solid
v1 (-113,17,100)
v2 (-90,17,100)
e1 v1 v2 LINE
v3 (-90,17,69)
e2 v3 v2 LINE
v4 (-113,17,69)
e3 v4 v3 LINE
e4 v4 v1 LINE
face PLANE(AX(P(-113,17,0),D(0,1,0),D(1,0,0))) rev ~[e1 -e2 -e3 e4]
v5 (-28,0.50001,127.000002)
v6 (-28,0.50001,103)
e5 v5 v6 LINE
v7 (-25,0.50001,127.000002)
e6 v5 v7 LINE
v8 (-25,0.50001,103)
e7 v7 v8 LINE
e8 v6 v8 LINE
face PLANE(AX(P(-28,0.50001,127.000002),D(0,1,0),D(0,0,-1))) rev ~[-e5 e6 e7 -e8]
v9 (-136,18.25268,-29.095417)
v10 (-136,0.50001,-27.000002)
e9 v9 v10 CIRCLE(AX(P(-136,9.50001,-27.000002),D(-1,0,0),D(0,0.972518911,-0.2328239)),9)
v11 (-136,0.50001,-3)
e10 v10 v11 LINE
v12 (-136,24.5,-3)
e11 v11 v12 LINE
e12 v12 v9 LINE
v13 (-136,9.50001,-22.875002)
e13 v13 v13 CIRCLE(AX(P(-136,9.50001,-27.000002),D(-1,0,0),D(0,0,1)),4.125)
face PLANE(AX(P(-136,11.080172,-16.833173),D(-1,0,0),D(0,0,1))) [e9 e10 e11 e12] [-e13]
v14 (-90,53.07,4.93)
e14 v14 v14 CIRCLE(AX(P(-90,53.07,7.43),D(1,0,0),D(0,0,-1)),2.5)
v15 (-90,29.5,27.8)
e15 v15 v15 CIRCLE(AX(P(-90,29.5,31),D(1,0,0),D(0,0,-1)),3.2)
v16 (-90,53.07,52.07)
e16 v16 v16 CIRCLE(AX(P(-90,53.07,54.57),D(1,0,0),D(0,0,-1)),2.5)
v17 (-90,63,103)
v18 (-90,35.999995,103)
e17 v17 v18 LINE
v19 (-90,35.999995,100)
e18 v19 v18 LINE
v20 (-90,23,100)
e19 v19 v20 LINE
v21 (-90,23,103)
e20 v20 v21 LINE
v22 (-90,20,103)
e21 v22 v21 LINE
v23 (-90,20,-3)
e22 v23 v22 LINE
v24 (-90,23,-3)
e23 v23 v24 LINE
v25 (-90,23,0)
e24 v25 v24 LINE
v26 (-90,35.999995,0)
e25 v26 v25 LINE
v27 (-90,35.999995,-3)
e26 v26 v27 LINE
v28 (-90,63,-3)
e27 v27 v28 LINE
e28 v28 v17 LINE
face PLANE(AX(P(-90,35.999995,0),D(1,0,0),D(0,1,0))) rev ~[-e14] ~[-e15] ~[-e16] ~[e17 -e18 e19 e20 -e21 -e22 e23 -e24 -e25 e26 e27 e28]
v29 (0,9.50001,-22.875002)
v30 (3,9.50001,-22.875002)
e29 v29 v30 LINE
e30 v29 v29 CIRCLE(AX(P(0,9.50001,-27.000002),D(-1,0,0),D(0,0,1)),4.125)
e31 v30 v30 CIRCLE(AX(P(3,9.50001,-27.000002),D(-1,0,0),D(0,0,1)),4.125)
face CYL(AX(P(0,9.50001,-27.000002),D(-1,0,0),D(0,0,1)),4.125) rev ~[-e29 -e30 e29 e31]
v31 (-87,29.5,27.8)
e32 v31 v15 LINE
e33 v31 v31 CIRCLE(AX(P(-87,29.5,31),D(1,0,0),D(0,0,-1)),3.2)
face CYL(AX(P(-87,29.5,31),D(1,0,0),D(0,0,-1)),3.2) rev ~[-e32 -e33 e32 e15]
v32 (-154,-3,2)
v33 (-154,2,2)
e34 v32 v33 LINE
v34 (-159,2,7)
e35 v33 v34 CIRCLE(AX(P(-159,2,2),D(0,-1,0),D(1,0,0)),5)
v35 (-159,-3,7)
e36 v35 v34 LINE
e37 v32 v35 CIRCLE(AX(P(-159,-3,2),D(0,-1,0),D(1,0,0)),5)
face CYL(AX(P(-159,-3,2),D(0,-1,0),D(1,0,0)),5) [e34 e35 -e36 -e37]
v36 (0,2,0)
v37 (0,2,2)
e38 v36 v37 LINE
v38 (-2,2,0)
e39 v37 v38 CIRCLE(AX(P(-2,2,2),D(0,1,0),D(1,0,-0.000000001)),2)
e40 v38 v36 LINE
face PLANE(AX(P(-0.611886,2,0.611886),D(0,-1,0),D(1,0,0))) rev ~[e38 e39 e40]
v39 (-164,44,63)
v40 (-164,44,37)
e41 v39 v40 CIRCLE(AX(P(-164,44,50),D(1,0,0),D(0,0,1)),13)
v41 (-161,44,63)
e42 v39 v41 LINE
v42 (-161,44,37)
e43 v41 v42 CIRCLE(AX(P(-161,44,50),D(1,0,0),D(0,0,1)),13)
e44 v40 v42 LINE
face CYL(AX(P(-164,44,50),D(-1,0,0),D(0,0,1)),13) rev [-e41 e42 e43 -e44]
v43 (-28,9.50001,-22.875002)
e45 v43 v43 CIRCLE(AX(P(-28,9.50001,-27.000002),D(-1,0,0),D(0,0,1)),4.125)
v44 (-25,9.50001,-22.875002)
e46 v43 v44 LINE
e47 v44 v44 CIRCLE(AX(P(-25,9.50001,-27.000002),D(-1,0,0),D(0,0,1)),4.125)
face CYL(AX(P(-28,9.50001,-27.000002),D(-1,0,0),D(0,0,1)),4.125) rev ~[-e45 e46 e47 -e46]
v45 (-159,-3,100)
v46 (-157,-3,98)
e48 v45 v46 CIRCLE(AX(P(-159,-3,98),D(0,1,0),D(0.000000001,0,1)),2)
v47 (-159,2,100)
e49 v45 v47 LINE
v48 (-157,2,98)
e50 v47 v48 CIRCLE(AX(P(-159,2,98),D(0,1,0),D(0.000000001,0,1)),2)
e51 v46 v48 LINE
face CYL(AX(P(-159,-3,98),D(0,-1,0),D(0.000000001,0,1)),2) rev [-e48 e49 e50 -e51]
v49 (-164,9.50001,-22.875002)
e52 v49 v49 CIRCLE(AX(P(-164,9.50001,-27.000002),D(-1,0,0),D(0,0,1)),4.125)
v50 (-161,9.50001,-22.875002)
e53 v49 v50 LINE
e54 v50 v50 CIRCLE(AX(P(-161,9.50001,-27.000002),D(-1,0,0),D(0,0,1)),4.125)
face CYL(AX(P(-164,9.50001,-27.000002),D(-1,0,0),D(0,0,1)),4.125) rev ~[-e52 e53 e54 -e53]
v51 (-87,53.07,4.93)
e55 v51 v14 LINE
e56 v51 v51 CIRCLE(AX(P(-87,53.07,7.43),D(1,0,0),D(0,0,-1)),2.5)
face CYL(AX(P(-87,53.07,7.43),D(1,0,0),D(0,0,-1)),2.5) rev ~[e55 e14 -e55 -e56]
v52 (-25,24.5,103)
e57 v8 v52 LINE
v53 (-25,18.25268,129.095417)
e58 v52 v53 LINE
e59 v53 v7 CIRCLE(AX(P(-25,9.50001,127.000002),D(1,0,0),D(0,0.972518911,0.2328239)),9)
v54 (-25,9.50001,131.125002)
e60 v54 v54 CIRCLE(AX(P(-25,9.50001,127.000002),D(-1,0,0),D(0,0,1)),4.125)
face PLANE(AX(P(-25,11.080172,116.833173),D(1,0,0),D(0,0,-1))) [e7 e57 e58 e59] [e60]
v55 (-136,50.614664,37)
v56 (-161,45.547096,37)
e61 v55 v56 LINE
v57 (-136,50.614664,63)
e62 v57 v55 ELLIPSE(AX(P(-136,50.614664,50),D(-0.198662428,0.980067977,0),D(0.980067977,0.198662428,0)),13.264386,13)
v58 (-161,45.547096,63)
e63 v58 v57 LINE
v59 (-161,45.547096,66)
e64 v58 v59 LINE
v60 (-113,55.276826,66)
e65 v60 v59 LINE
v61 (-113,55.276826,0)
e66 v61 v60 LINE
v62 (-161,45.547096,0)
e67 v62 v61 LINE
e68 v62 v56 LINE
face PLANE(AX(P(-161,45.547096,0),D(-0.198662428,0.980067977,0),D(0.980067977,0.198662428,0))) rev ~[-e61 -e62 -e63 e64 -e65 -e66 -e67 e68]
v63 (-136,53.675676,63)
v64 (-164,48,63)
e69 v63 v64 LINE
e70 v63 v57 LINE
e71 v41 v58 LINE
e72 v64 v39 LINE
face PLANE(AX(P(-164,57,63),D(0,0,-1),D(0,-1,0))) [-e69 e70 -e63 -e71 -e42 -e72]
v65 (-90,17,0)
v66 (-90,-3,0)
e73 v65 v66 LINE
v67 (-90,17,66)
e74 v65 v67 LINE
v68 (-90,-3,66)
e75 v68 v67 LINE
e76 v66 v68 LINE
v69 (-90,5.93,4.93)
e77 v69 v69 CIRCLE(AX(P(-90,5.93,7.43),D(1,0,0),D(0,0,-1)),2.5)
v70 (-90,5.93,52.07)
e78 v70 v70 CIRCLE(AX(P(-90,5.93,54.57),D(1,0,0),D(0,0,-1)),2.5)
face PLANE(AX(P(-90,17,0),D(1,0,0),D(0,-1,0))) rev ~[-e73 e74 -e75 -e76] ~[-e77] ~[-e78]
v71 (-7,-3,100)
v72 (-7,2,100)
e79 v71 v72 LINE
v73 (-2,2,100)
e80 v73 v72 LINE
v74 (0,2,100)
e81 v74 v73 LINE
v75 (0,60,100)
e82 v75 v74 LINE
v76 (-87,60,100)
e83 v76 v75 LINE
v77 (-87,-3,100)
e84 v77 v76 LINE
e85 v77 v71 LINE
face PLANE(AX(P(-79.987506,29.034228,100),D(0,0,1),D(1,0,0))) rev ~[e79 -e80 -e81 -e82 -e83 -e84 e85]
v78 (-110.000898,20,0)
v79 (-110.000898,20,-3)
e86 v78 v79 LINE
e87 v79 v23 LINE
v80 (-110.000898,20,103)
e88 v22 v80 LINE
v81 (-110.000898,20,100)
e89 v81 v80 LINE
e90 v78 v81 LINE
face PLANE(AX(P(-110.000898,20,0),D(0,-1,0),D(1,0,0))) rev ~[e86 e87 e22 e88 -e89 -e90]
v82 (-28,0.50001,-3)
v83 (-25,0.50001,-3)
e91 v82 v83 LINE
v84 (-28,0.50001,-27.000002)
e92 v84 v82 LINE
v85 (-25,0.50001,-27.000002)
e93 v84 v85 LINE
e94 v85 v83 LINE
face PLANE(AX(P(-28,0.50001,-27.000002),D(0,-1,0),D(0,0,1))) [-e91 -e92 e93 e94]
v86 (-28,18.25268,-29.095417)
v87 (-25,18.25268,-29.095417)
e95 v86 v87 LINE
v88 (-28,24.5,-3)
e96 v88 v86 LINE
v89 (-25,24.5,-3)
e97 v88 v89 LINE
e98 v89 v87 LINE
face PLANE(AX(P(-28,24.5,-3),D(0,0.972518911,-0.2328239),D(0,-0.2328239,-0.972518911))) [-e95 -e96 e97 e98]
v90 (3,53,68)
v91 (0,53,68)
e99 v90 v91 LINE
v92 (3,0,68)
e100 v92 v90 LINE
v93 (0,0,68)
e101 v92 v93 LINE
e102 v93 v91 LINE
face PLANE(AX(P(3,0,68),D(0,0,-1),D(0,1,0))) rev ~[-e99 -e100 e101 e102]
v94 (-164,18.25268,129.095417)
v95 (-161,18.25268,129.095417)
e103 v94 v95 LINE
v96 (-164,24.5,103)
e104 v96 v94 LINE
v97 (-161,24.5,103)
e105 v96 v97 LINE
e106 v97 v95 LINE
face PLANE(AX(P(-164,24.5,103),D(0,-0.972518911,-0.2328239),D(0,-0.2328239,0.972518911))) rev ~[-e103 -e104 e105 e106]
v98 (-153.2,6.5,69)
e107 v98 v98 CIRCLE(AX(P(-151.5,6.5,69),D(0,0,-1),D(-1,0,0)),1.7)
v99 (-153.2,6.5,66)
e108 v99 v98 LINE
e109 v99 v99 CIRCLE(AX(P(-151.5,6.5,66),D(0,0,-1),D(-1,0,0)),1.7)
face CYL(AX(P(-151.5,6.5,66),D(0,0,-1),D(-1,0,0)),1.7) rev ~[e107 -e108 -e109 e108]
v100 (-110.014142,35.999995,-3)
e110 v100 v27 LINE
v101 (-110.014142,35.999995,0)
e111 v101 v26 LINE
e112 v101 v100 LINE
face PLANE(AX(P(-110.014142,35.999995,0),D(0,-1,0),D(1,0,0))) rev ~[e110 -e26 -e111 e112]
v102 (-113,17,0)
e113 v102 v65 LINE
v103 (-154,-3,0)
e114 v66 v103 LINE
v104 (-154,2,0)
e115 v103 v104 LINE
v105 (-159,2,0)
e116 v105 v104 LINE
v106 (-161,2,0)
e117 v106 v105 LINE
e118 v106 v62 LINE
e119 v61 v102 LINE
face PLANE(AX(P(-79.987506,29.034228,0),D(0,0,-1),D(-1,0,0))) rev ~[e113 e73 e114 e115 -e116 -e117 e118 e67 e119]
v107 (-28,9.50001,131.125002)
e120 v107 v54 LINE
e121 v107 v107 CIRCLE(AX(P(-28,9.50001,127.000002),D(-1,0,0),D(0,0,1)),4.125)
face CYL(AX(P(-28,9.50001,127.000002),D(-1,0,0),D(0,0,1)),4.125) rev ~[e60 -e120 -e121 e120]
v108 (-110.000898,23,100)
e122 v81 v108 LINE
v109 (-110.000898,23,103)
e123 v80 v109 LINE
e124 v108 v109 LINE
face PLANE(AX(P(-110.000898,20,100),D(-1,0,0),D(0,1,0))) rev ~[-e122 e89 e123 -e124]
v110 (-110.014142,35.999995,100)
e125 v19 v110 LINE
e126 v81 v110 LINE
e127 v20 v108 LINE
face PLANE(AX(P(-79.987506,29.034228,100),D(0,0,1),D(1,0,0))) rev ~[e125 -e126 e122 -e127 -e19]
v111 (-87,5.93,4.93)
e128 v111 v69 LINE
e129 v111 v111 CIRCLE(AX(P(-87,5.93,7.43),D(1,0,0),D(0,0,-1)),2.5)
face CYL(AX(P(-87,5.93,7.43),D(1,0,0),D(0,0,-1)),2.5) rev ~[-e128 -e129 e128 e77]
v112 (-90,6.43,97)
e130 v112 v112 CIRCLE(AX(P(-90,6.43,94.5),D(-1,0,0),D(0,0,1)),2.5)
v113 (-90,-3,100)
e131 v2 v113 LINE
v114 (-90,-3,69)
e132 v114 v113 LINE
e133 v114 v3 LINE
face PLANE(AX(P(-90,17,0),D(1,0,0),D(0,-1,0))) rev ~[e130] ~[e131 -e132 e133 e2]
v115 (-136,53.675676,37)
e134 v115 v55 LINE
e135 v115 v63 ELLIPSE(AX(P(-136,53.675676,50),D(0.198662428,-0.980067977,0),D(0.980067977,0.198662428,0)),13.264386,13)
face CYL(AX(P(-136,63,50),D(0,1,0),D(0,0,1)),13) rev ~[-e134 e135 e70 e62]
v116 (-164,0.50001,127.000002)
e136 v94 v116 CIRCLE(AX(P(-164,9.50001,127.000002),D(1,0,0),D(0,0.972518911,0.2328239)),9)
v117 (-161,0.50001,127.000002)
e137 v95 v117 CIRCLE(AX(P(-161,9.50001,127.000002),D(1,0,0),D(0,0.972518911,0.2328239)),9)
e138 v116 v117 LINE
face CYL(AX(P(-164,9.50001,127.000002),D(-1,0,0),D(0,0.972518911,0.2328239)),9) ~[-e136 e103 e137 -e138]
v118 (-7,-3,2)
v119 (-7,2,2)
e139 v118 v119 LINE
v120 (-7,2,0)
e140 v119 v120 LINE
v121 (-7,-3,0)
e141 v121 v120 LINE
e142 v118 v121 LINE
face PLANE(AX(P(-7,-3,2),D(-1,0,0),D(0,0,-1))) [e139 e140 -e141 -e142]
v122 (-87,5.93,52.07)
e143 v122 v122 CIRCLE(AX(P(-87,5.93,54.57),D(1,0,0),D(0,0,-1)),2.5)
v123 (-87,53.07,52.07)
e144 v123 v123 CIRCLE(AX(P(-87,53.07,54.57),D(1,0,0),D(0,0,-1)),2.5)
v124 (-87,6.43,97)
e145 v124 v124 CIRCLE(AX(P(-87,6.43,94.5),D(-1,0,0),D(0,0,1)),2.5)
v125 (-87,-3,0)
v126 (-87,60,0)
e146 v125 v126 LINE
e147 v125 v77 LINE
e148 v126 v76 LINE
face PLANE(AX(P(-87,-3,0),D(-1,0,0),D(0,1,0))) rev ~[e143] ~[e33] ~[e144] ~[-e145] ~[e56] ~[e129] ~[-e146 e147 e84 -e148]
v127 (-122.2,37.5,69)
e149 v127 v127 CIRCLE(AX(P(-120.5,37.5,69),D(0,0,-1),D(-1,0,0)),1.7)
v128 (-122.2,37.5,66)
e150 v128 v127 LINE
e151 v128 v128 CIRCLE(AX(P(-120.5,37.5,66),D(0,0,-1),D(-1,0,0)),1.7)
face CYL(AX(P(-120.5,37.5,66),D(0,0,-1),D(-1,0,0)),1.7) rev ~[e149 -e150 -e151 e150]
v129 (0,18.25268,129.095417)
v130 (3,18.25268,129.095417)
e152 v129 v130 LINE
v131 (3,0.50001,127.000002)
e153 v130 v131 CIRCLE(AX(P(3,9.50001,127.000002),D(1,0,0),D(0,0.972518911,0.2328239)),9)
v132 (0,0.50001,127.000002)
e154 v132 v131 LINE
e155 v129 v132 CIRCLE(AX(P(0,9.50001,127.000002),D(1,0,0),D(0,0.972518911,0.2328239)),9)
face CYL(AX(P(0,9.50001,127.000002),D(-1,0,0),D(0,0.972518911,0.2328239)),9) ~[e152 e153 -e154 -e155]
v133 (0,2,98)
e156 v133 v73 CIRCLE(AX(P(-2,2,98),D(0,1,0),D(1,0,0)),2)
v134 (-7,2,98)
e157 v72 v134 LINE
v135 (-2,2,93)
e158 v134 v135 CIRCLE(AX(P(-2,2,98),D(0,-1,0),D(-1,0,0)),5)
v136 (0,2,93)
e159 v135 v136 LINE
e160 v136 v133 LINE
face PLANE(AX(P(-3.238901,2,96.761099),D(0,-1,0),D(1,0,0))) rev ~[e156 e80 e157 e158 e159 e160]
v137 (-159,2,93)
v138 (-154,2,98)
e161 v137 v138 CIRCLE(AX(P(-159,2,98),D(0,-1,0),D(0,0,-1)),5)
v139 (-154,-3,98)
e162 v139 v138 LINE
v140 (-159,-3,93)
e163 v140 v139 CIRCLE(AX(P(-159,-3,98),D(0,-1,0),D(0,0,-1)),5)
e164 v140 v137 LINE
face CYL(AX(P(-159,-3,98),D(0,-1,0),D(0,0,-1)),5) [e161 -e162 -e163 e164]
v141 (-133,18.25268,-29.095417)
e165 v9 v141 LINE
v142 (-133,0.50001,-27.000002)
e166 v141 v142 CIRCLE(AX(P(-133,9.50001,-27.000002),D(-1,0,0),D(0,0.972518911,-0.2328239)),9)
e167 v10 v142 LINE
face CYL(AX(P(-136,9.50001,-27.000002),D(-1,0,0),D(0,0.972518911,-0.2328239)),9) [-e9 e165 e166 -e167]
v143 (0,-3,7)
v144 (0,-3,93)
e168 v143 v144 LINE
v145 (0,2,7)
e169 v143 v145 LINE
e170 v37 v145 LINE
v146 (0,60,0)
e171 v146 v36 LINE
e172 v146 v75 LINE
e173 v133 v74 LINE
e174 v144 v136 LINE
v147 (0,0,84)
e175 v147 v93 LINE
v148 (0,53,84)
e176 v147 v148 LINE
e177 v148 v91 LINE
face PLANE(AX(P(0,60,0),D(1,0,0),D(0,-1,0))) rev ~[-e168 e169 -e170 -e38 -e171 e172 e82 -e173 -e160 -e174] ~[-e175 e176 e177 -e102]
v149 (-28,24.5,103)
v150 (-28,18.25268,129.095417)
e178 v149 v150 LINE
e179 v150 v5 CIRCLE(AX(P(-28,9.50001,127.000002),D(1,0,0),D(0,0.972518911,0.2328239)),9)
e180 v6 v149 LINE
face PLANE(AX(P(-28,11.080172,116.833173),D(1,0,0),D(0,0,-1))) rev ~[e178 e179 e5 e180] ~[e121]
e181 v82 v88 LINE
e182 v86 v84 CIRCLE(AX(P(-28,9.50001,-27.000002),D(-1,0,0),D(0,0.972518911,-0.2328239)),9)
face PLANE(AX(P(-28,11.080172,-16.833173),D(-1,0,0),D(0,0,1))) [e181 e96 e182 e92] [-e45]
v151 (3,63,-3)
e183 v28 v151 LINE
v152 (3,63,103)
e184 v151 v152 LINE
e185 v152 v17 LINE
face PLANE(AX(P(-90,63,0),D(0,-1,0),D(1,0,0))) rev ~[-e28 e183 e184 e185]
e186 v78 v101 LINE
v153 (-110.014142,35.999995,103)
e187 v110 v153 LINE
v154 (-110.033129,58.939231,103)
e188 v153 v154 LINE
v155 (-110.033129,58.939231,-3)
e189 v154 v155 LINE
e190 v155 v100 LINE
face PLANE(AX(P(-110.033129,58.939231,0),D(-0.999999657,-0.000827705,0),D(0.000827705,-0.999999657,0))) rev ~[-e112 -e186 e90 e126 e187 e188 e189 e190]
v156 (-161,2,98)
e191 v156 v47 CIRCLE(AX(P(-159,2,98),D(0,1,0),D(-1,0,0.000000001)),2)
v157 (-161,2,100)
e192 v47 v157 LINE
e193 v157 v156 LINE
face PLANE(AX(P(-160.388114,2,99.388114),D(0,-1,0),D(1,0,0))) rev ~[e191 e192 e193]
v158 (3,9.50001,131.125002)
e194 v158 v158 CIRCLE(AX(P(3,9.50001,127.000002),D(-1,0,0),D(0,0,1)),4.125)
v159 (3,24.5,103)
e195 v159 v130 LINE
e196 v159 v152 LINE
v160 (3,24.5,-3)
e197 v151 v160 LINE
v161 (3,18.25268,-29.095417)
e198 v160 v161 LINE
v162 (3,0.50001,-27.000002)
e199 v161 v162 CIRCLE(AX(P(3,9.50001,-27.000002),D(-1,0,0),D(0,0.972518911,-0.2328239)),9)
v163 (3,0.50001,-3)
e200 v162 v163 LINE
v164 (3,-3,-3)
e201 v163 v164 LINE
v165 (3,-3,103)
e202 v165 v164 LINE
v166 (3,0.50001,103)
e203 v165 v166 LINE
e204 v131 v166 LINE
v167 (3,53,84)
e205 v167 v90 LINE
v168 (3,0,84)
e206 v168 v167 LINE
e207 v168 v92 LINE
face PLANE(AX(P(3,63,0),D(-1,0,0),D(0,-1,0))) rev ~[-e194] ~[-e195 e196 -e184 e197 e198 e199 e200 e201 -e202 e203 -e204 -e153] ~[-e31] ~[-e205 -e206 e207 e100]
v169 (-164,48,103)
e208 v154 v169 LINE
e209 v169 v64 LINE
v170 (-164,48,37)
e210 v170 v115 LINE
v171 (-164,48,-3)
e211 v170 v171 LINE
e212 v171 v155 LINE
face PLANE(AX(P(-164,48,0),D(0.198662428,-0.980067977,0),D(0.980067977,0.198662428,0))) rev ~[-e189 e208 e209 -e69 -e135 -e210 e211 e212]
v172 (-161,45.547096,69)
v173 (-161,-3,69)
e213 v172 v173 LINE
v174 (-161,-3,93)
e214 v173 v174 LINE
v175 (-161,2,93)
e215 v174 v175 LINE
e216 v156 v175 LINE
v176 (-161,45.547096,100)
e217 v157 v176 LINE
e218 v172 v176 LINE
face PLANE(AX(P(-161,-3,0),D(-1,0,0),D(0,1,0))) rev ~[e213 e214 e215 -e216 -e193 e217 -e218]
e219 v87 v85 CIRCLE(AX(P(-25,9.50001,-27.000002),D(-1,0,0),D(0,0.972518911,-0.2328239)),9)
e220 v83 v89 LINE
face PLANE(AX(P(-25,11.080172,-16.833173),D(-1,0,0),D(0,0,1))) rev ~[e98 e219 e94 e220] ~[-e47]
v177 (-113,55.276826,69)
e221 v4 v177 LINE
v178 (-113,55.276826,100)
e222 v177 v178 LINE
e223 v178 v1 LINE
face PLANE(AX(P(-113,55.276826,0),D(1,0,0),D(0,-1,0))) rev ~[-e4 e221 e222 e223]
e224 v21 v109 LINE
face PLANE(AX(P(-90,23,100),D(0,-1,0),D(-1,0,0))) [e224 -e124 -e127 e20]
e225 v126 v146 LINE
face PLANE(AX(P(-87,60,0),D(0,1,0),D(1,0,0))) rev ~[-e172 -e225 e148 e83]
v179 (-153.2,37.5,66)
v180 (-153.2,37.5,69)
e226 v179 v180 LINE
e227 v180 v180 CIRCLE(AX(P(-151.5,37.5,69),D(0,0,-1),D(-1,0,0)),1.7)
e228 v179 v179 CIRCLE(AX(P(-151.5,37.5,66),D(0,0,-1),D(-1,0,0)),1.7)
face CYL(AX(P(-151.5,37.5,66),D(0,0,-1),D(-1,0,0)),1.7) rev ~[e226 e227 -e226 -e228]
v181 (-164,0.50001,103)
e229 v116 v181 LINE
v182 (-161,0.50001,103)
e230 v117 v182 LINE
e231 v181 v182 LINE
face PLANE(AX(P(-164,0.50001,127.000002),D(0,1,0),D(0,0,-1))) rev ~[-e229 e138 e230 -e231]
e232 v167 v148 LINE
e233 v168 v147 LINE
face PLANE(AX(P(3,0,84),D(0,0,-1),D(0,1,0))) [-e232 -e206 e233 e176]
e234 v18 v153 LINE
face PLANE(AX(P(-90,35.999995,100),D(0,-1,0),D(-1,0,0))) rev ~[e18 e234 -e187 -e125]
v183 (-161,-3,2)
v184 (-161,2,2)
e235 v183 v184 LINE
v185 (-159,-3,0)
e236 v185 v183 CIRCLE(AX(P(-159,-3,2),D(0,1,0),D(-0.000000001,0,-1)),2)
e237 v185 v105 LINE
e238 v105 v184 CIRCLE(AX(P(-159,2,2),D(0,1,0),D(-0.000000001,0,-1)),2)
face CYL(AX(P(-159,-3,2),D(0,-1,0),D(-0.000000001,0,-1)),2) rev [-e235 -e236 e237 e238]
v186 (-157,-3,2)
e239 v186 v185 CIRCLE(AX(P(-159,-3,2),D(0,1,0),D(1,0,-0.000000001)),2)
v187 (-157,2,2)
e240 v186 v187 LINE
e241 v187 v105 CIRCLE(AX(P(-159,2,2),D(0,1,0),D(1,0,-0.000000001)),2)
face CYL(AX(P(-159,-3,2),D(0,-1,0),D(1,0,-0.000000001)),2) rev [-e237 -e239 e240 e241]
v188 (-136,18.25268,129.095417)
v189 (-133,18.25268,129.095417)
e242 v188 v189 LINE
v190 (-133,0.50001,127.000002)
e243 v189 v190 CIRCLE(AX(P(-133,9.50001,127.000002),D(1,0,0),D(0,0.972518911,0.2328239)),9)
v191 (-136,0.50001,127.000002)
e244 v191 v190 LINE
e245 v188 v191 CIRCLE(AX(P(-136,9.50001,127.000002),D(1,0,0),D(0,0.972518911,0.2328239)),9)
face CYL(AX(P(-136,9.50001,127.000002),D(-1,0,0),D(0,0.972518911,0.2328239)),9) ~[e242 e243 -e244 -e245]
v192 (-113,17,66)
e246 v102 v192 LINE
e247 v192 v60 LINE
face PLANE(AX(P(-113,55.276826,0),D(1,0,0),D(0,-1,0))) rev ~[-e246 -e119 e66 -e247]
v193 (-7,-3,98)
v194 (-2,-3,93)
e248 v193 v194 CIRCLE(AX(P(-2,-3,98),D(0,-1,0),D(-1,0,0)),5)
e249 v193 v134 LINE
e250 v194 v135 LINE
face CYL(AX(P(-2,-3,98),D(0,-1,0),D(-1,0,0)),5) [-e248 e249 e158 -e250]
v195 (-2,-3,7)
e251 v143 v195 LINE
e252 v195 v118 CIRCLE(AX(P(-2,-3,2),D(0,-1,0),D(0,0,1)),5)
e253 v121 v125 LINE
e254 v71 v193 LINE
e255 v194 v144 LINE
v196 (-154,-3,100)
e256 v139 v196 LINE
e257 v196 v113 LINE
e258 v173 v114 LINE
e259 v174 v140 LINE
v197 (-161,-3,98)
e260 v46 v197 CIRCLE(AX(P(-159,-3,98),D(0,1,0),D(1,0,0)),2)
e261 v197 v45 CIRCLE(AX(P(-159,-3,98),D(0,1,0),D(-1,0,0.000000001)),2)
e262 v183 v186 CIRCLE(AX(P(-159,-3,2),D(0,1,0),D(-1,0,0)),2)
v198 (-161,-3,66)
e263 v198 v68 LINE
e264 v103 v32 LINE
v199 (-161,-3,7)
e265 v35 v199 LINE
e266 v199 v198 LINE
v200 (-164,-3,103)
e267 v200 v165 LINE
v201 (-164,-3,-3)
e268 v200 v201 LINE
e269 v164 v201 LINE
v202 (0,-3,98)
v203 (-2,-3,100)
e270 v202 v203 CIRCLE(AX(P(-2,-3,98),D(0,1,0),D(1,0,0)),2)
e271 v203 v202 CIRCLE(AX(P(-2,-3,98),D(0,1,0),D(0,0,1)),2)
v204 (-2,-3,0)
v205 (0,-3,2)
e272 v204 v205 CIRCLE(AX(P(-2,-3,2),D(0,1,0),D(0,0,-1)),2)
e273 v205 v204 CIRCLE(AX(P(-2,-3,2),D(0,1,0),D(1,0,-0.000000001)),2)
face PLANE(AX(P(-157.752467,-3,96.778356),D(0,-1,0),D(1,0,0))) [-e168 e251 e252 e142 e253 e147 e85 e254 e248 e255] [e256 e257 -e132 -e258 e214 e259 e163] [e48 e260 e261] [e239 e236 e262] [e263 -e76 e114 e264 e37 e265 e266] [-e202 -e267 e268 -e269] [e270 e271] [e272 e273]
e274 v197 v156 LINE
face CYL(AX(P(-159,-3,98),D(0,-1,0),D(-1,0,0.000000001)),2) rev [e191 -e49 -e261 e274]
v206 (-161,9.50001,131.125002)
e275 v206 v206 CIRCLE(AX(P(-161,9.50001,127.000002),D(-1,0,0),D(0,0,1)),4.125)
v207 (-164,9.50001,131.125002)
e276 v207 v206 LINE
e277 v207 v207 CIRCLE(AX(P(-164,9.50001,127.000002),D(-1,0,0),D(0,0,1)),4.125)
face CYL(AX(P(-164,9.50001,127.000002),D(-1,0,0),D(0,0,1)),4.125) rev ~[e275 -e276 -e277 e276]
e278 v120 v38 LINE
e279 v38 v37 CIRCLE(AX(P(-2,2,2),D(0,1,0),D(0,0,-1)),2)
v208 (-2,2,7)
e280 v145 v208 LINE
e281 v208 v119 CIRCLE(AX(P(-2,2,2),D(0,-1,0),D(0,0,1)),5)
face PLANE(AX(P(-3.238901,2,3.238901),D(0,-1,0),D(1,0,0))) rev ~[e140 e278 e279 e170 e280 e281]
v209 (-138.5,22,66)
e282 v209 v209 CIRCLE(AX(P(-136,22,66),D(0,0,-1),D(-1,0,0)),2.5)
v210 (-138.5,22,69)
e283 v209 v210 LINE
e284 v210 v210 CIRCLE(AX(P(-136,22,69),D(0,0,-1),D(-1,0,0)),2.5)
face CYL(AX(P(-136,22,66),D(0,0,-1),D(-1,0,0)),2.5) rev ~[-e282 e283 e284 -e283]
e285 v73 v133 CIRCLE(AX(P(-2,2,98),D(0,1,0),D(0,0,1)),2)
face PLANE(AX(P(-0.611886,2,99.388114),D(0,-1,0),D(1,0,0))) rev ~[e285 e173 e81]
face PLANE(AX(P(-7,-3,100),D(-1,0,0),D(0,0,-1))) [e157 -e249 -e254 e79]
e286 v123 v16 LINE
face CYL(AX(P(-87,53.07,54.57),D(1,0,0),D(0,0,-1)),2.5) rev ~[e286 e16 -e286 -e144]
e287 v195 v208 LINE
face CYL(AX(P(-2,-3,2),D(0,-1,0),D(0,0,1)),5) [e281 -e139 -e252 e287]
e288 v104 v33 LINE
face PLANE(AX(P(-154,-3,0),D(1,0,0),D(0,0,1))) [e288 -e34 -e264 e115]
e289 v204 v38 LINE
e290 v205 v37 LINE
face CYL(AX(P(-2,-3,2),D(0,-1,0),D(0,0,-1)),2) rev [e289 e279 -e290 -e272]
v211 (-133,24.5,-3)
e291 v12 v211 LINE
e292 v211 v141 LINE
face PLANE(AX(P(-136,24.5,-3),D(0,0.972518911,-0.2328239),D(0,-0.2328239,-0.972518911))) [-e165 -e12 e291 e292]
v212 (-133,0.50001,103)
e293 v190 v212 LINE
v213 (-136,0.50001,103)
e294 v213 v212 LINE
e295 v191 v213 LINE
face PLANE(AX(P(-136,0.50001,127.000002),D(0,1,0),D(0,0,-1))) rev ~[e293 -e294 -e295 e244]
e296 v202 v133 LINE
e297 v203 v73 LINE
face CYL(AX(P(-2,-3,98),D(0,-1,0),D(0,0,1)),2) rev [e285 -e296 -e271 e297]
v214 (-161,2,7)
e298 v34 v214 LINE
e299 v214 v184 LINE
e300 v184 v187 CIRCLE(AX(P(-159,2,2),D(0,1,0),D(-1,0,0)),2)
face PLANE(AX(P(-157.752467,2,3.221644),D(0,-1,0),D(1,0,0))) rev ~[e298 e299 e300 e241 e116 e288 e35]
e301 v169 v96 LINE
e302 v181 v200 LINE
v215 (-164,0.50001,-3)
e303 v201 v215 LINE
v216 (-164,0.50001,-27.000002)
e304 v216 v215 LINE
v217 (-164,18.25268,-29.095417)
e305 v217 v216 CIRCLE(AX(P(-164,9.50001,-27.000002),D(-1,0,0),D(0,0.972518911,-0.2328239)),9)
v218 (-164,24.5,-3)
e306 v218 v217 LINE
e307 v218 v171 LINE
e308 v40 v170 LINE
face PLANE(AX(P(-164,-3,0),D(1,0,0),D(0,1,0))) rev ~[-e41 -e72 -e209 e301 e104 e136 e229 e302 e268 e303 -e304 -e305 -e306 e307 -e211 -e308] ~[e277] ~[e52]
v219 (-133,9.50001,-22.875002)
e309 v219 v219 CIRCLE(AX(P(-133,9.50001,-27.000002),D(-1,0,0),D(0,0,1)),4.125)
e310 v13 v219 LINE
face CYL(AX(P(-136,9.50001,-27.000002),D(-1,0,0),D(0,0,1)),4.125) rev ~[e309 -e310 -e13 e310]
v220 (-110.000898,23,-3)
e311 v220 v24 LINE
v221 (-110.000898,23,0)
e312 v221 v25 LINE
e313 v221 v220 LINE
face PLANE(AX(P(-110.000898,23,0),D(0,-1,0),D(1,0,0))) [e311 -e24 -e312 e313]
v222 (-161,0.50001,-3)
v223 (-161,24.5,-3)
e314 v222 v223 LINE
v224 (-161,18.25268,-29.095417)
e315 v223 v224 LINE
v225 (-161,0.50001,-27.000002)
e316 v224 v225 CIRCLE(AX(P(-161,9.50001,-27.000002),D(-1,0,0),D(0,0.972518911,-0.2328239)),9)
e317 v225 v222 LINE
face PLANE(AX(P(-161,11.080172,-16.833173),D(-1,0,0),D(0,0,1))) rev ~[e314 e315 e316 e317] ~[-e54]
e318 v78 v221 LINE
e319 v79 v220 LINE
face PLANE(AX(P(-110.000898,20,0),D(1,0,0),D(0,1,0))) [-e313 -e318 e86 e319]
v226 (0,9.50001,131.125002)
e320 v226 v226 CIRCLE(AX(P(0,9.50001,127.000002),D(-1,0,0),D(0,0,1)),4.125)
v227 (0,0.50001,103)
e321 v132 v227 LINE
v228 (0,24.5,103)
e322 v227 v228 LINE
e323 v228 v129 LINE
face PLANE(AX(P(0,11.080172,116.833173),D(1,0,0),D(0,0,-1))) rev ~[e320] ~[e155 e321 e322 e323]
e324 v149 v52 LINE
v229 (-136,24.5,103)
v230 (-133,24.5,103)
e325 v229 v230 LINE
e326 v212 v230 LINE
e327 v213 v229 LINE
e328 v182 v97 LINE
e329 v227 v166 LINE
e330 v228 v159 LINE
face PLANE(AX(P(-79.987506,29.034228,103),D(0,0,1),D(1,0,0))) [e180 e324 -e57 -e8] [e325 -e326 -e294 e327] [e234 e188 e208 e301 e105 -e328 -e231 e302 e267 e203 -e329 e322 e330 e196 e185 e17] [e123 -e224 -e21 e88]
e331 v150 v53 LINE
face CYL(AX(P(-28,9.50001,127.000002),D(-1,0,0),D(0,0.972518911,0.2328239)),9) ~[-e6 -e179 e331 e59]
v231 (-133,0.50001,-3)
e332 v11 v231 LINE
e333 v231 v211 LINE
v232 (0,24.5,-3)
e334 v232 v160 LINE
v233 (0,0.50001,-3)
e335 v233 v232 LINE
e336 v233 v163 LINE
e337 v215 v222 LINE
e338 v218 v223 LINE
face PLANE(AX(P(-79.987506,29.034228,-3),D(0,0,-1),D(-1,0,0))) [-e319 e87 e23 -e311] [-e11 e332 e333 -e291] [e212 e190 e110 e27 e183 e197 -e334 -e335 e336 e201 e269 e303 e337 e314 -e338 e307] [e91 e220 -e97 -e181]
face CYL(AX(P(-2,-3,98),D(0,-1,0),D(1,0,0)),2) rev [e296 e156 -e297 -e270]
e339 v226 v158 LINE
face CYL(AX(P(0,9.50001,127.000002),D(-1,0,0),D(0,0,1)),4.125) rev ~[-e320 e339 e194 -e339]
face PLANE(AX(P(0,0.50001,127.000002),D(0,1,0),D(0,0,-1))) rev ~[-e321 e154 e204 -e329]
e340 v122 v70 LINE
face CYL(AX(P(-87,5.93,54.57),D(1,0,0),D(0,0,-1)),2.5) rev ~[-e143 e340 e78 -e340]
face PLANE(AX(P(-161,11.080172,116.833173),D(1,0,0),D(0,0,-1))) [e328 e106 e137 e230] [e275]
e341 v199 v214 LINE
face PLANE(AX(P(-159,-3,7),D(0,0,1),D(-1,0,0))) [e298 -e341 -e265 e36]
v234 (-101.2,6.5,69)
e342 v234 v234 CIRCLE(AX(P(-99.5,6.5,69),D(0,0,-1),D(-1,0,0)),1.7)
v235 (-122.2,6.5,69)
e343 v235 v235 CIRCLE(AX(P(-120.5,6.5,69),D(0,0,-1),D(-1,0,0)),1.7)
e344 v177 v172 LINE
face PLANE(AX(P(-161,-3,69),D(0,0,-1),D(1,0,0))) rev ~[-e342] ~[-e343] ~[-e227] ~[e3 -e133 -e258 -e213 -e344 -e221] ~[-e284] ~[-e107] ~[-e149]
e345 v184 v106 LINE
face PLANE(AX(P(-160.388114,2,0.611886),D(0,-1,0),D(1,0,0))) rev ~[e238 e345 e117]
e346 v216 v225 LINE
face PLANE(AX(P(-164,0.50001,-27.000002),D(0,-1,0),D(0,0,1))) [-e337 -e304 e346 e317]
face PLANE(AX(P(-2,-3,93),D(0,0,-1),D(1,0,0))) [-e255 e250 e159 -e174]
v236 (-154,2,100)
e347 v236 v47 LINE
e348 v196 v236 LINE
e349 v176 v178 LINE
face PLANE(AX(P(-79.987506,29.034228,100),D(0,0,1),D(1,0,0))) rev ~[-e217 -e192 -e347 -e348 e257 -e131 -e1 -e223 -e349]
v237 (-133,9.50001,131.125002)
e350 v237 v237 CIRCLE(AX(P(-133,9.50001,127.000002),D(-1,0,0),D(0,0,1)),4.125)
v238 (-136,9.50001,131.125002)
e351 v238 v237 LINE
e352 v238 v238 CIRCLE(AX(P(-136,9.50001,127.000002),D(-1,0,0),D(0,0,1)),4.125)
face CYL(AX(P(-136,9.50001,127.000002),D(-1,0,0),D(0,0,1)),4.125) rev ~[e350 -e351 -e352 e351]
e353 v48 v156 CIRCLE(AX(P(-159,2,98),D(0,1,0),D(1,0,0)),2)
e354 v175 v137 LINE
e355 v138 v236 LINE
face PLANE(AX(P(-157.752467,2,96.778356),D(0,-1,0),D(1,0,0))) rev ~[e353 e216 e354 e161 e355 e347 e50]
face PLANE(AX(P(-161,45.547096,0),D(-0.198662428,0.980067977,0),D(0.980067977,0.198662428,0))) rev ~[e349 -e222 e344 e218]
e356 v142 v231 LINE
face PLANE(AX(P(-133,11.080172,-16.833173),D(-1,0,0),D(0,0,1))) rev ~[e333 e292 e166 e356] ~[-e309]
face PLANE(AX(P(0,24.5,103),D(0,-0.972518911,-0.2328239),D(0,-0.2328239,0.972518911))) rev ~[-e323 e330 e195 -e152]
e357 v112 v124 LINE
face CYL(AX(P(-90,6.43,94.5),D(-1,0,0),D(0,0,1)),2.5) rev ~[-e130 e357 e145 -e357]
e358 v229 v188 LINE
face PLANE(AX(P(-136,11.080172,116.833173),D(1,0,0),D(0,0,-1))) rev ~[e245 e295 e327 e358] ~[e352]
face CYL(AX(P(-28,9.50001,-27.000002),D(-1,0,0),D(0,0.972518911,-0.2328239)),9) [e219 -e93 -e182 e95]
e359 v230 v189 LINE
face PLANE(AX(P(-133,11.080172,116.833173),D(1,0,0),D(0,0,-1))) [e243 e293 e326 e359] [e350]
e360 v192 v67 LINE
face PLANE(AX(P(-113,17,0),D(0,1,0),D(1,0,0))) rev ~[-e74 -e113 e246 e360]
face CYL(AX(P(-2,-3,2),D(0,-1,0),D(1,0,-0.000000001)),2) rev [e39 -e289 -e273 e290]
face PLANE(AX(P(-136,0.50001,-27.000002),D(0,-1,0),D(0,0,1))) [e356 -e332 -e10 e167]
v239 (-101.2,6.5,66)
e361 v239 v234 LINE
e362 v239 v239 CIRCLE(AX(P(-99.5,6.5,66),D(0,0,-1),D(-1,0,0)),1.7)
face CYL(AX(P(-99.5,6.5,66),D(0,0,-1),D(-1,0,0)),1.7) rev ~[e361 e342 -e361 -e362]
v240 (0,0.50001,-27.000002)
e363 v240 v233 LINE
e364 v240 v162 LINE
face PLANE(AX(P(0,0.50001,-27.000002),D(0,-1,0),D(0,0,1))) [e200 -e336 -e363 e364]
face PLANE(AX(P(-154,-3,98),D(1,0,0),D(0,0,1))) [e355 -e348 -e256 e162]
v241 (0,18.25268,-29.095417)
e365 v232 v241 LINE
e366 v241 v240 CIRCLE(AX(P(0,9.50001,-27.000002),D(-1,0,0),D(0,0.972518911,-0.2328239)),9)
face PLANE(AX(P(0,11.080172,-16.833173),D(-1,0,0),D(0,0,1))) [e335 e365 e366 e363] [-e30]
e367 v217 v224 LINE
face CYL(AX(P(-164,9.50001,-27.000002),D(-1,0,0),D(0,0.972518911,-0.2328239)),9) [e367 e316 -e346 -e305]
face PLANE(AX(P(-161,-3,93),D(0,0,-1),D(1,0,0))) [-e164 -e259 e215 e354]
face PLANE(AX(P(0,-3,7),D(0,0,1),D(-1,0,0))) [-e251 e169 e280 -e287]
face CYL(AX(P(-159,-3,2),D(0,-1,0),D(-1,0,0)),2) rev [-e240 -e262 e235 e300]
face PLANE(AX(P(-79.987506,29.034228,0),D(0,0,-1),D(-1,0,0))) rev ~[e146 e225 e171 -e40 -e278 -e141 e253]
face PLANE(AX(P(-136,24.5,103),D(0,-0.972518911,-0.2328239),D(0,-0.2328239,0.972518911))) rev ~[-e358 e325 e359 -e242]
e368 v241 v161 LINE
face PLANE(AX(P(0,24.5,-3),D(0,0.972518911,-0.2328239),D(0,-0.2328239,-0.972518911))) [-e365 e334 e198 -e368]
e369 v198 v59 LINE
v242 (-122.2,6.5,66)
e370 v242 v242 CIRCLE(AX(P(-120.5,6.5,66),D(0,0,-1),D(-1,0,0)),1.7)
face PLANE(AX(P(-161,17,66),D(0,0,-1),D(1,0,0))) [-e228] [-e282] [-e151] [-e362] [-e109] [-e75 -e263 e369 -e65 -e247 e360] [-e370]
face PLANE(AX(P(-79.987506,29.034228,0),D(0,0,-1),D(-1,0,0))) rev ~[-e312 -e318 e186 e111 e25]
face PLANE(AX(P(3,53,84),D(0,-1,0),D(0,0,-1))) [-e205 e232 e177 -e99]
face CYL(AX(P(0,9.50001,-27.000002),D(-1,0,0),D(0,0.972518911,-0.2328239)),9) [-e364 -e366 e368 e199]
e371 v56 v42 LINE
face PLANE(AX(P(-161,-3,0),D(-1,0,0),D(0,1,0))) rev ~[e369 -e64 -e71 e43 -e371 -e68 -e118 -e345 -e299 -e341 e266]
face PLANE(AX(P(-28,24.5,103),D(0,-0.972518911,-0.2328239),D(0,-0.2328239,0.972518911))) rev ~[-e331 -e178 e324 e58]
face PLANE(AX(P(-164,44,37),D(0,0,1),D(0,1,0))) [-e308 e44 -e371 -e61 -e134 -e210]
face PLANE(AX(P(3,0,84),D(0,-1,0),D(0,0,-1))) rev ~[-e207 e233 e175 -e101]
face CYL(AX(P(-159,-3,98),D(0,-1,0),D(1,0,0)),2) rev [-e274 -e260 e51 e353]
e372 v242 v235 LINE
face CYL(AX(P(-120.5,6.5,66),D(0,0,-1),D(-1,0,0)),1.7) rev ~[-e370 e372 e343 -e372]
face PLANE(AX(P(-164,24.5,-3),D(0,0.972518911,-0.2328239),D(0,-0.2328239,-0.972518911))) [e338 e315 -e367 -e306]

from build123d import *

# Parameters (mm, degrees)
BOSS_EXTRUDE1_DEPTH = 100
BOSS_EXTRUDE2_DEPTH = 3
SKETCH4_W           = 71
SKETCH4_H           = 3
BOSS_EXTRUDE3_DEPTH = 20
BOSS_EXTRUDE4_REACH = 48
SKETCH6_W           = 48
SKETCH6_H           = 3
CUT_EXTRUDE1_DEPTH  = 3
SKETCH8_R           = 2.5
SKETCH8_R_2         = 1.7
CUT_EXTRUDE2_DEPTH  = 3
SKETCH9_R           = 3.2
SKETCH9_R_2         = 2.5
CUT_EXTRUDE3_DEPTH  = 3
SKETCH10_R          = 1.7
CUT_EXTRUDE4_DEPTH  = 3
SKETCH13_R          = 2.5
CUT_EXTRUDE6_DEPTH  = 3
BOSS_EXTRUDE5_DEPTH = 3
BOSS_EXTRUDE6_DEPTH = 5
CUT_EXTRUDE8_DEPTH  = 18
SKETCH20_W          = 20.000898322
SKETCH20_H          = 3
CUT_EXTRUDE9_DEPTH  = 3
SKETCH21_W          = 20.000898322
SKETCH21_H          = 3
CUT_EXTRUDE10_DEPTH = 3
SKETCH22_R          = 4.125
BOSS_EXTRUDE7_DEPTH = 3
LPATTERN1_COUNT     = 2
LPATTERN1_PITCH     = 28
LPATTERN2_COUNT     = 2
LPATTERN2_PITCH     = 164
LPATTERN3_COUNT     = 2
LPATTERN3_PITCH     = 136
SKETCH23_W          = 16
SKETCH23_H          = 53
CUT_EXTRUDE11_DEPTH = 3


with BuildPart() as part:
    # Sketch1 → Boss-Extrude1 (new body)
    with BuildSketch(Plane.XY):
        Polygon((0, 60), (0, -3), (3, -3), (3, 63), (-90, 63), (-90, 20), (-110.000898322, 20), (-110.033128512, 58.939230707), (-164, 48), (-164, -3), (-161, -3), (-161, 45.547095944), (-113, 55.276825673), (-113, 17), (-90, 17), (-90, -3), (-87, -3), (-87, 60), align=None)
    extrude(amount=BOSS_EXTRUDE1_DEPTH)

    # Sketch2 → Boss-Extrude2 (add)
    with BuildSketch(Plane.XY.offset(100)):
        Polygon((-164, -3), (3, -3), (3, 63), (-90, 63), (-90, 35.999994519), (-110.014141595, 35.999994519), (-110.033128512, 58.939230707), (-164, 48), align=None)
    extrude(amount=BOSS_EXTRUDE2_DEPTH)

    # Sketch4 → Boss-Extrude3 (add)
    with BuildSketch(Plane.XZ.offset(3)):
        with Locations((-125.5, 67.5)):
            Rectangle(SKETCH4_W, SKETCH4_H)
    extrude(amount=-BOSS_EXTRUDE3_DEPTH)

    # Boss-Extrude4: up to this face of the body (flat: up to its plane)
    boss_extrude4_end = Plane(part.part.faces().sort_by_distance((-137, 50.411960808, 50))[0])
    # Sketch6 → Boss-Extrude4 (add, up to the picked face)
    with BuildSketch(Plane(origin=(0, 17, 0), x_dir=(1, 0, 0), z_dir=(0, 1, 0)), mode=Mode.PRIVATE) as boss_extrude4_sk1:
        with Locations((-137, -67.5)):
            Rectangle(SKETCH6_W, SKETCH6_H)
    boss_extrude4_tool1 = split(extrude(boss_extrude4_sk1.sketch, amount=BOSS_EXTRUDE4_REACH, mode=Mode.PRIVATE), bisect_by=boss_extrude4_end, keep=Keep.BOTH, mode=Mode.PRIVATE)
    add(boss_extrude4_tool1.solids().sort_by_distance((-137, 17, 67.5))[0])

    # Sketch7 → Cut-Extrude1 (cut)
    with BuildSketch(Plane.ZY.offset(164)):
        with BuildLine():
            Line((37, 44), (37, 57))
            Line((37, 57), (63, 57))
            Line((63, 57), (63, 44))
            ThreePointArc((63, 44), (50, 31), (37, 44))
        make_face()
    extrude(amount=-CUT_EXTRUDE1_DEPTH, mode=Mode.SUBTRACT)

    # Sketch8 → Cut-Extrude2 (cut)
    with BuildSketch(Plane(origin=(0, 0, 66), x_dir=(-1, 0, 0), z_dir=(0, 0, -1))):
        with Locations((136, 22)):
            Circle(SKETCH8_R)
        with Locations((151.5, 37.5)):
            Circle(SKETCH8_R_2)
        with Locations((120.5, 37.5)):
            Circle(SKETCH8_R_2)
        with Locations((151.5, 6.5)):
            Circle(SKETCH8_R_2)
        with Locations((120.5, 6.5)):
            Circle(SKETCH8_R_2)
    extrude(amount=-CUT_EXTRUDE2_DEPTH, mode=Mode.SUBTRACT)

    # Sketch9 → Cut-Extrude3 (cut)
    with BuildSketch(Plane(origin=(-87, 0, 0), x_dir=(0, 0, -1), z_dir=(1, 0, 0))):
        with Locations((-31, 29.5)):
            Circle(SKETCH9_R)
        with Locations((-7.43, 53.07)):
            Circle(SKETCH9_R_2)
        with Locations((-7.43, 5.93)):
            Circle(SKETCH9_R_2)
        with Locations((-54.57, 53.07)):
            Circle(SKETCH9_R_2)
        with Locations((-54.57, 5.93)):
            Circle(SKETCH9_R_2)
    extrude(amount=-CUT_EXTRUDE3_DEPTH, mode=Mode.SUBTRACT)

    # Sketch10 → Cut-Extrude4 (cut)
    with BuildSketch(Plane(origin=(0, 0, 66), x_dir=(-1, 0, 0), z_dir=(0, 0, -1))):
        with Locations((99.5, 6.5)):
            Circle(SKETCH10_R)
    extrude(amount=-CUT_EXTRUDE4_DEPTH, mode=Mode.SUBTRACT)

    # Sketch13 → Cut-Extrude6 (cut)
    with BuildSketch(Plane.ZY.offset(90)):
        with Locations((94.5, 6.43)):
            Circle(SKETCH13_R)
    extrude(amount=-CUT_EXTRUDE6_DEPTH, mode=Mode.SUBTRACT)

    # Sketch14 → Boss-Extrude5 (add)
    with BuildSketch(Plane(origin=(0, 0, 0), x_dir=(-1, 0, 0), z_dir=(0, 0, -1))):
        Polygon((-3, 63), (-3, -3), (164, -3), (164, 48), (110.033128512, 58.939230707), (110.014141595, 35.999994519), (90, 35.999994519), (90, 63), align=None)
    extrude(amount=BOSS_EXTRUDE5_DEPTH)

    # Sketch15 → Boss-Extrude6 (add)
    with BuildSketch(Plane.XZ.offset(3)):
        with BuildLine():
            ThreePointArc((-159, 93), (-155.464466094, 94.464466094), (-154, 98))
            Line((-154, 98), (-154, 100))
            Line((-154, 100), (-159, 100))
            ThreePointArc((-159, 100), (-157.585786438, 99.414213562), (-157, 98))
            ThreePointArc((-157, 98), (-159, 96), (-161, 98))
            Line((-161, 98), (-161, 93))
            Line((-161, 93), (-159, 93))
        make_face()
        with BuildLine():
            ThreePointArc((-161, 98), (-160.414213562, 99.414213562), (-159, 100))
            Line((-159, 100), (-161, 100))
            Line((-161, 100), (-161, 98))
        make_face()
        with BuildLine():
            Line((-7, 100), (-7, 98))
            ThreePointArc((-7, 98), (-5.535533906, 94.464466094), (-2, 93))
            Line((-2, 93), (0, 93))
            Line((0, 93), (0, 98))
            ThreePointArc((0, 98), (-3.414213563, 96.585786438), (-1.999999999, 100))
            Line((-1.999999999, 100), (-7, 100))
        make_face()
        with BuildLine():
            Line((0, 100), (-1.999999999, 100))
            ThreePointArc((-1.999999999, 100), (-0.585786437, 99.414213562), (0, 98))
            Line((0, 98), (0, 100))
        make_face()
        with BuildLine():
            Line((0, 2), (0, 7))
            Line((0, 7), (-2, 7))
            ThreePointArc((-2, 7), (-5.535533906, 5.535533906), (-7, 2))
            Line((-7, 2), (-7, 0))
            Line((-7, 0), (-2, 0))
            ThreePointArc((-2, 0), (-3.414213562, 3.414213562), (0, 2))
        make_face()
        with BuildLine():
            Line((0, 0), (0, 2))
            ThreePointArc((0, 2), (-0.585786438, 0.585786438), (-2, 0))
            Line((-2, 0), (0, 0))
        make_face()
        with BuildLine():
            ThreePointArc((-154, 2), (-155.464466094, 5.535533906), (-159, 7))
            Line((-159, 7), (-161, 7))
            Line((-161, 7), (-161, 2))
            ThreePointArc((-161, 2), (-159, 4), (-157, 2))
            ThreePointArc((-157, 2), (-157.585786438, 0.585786438), (-159, 0))
            Line((-159, 0), (-154, 0))
            Line((-154, 0), (-154, 2))
        make_face()
        with BuildLine():
            ThreePointArc((-159, 0), (-160.414213562, 0.585786438), (-161, 2))
            Line((-161, 2), (-161, 0))
            Line((-161, 0), (-159, 0))
        make_face()
    extrude(amount=-BOSS_EXTRUDE6_DEPTH)

    # Sketch19 → Cut-Extrude8 (cut)
    with BuildSketch(Plane(origin=(0, 63, 0), x_dir=(1, 0, 0), z_dir=(0, 1, 0))):
        with BuildLine():
            Line((-136, -37), (-164, -37))
            Line((-164, -37), (-164, -63))
            Line((-164, -63), (-136, -63))
            ThreePointArc((-136, -63), (-123, -50), (-136, -37))
        make_face()
    extrude(amount=-CUT_EXTRUDE8_DEPTH, mode=Mode.SUBTRACT)

    # Sketch20 → Cut-Extrude9 (cut)
    with BuildSketch(Plane(origin=(0, 0, 100), x_dir=(-1, 0, 0), z_dir=(0, 0, -1))):
        with Locations((100.000449161, 21.5)):
            Rectangle(SKETCH20_W, SKETCH20_H)
    extrude(amount=-CUT_EXTRUDE9_DEPTH, mode=Mode.SUBTRACT)

    # Sketch21 → Cut-Extrude10 (cut)
    with BuildSketch(Plane.XY):
        with Locations((-100.000449161, 21.5)):
            Rectangle(SKETCH21_W, SKETCH21_H)
    extrude(amount=-CUT_EXTRUDE10_DEPTH, mode=Mode.SUBTRACT)

    # Sketch22 → Boss-Extrude7 (add)
    with BuildSketch(Plane.ZY.offset(164)):
        with BuildLine():
            Line((103, 0.500009795), (103, 24.5))
            Line((103, 24.5), (129.095417441, 18.252679991))
            ThreePointArc((129.095417441, 18.252679991), (135.937956019, 8.445029172), (127.000002345, 0.500009795))
            Line((127.000002345, 0.500009795), (103, 0.500009795))
        make_face()
        with Locations((127.000002345, 9.500009795)):
            Circle(SKETCH22_R, mode=Mode.SUBTRACT)
        with BuildLine():
            Line((-3, 24.5), (-29.095417441, 18.252679991))
            ThreePointArc((-29.095417441, 18.252679991), (-35.937956019, 8.445029172), (-27.000002345, 0.500009795))
            Line((-27.000002345, 0.500009795), (-3, 0.500009795))
            Line((-3, 0.500009795), (-3, 24.5))
        make_face()
        with Locations((-27.000002345, 9.500009795)):
            Circle(SKETCH22_R, mode=Mode.SUBTRACT)
    boss_extrude7 = extrude(amount=-BOSS_EXTRUDE7_DEPTH)

    # LPattern1: Boss-Extrude7 ×2
    with Locations(*[(i * LPATTERN1_PITCH, 0, 0) for i in range(1, LPATTERN1_COUNT)]):
        add(boss_extrude7)

    # LPattern2: Boss-Extrude7 ×2
    with Locations(*[(i * LPATTERN2_PITCH, 0, 0) for i in range(1, LPATTERN2_COUNT)]):
        add(boss_extrude7)

    # LPattern3: Boss-Extrude7 ×2
    with Locations(*[(i * LPATTERN3_PITCH, 0, 0) for i in range(1, LPATTERN3_COUNT)]):
        add(boss_extrude7)

    # Sketch23 → Cut-Extrude11 (cut)
    with BuildSketch(Plane(origin=(3, 0, 0), x_dir=(0, 0, -1), z_dir=(1, 0, 0))):
        with Locations((-76, 26.5)):
            Rectangle(SKETCH23_W, SKETCH23_H)
    extrude(amount=-CUT_EXTRUDE11_DEPTH, mode=Mode.SUBTRACT)


solid = part.part
